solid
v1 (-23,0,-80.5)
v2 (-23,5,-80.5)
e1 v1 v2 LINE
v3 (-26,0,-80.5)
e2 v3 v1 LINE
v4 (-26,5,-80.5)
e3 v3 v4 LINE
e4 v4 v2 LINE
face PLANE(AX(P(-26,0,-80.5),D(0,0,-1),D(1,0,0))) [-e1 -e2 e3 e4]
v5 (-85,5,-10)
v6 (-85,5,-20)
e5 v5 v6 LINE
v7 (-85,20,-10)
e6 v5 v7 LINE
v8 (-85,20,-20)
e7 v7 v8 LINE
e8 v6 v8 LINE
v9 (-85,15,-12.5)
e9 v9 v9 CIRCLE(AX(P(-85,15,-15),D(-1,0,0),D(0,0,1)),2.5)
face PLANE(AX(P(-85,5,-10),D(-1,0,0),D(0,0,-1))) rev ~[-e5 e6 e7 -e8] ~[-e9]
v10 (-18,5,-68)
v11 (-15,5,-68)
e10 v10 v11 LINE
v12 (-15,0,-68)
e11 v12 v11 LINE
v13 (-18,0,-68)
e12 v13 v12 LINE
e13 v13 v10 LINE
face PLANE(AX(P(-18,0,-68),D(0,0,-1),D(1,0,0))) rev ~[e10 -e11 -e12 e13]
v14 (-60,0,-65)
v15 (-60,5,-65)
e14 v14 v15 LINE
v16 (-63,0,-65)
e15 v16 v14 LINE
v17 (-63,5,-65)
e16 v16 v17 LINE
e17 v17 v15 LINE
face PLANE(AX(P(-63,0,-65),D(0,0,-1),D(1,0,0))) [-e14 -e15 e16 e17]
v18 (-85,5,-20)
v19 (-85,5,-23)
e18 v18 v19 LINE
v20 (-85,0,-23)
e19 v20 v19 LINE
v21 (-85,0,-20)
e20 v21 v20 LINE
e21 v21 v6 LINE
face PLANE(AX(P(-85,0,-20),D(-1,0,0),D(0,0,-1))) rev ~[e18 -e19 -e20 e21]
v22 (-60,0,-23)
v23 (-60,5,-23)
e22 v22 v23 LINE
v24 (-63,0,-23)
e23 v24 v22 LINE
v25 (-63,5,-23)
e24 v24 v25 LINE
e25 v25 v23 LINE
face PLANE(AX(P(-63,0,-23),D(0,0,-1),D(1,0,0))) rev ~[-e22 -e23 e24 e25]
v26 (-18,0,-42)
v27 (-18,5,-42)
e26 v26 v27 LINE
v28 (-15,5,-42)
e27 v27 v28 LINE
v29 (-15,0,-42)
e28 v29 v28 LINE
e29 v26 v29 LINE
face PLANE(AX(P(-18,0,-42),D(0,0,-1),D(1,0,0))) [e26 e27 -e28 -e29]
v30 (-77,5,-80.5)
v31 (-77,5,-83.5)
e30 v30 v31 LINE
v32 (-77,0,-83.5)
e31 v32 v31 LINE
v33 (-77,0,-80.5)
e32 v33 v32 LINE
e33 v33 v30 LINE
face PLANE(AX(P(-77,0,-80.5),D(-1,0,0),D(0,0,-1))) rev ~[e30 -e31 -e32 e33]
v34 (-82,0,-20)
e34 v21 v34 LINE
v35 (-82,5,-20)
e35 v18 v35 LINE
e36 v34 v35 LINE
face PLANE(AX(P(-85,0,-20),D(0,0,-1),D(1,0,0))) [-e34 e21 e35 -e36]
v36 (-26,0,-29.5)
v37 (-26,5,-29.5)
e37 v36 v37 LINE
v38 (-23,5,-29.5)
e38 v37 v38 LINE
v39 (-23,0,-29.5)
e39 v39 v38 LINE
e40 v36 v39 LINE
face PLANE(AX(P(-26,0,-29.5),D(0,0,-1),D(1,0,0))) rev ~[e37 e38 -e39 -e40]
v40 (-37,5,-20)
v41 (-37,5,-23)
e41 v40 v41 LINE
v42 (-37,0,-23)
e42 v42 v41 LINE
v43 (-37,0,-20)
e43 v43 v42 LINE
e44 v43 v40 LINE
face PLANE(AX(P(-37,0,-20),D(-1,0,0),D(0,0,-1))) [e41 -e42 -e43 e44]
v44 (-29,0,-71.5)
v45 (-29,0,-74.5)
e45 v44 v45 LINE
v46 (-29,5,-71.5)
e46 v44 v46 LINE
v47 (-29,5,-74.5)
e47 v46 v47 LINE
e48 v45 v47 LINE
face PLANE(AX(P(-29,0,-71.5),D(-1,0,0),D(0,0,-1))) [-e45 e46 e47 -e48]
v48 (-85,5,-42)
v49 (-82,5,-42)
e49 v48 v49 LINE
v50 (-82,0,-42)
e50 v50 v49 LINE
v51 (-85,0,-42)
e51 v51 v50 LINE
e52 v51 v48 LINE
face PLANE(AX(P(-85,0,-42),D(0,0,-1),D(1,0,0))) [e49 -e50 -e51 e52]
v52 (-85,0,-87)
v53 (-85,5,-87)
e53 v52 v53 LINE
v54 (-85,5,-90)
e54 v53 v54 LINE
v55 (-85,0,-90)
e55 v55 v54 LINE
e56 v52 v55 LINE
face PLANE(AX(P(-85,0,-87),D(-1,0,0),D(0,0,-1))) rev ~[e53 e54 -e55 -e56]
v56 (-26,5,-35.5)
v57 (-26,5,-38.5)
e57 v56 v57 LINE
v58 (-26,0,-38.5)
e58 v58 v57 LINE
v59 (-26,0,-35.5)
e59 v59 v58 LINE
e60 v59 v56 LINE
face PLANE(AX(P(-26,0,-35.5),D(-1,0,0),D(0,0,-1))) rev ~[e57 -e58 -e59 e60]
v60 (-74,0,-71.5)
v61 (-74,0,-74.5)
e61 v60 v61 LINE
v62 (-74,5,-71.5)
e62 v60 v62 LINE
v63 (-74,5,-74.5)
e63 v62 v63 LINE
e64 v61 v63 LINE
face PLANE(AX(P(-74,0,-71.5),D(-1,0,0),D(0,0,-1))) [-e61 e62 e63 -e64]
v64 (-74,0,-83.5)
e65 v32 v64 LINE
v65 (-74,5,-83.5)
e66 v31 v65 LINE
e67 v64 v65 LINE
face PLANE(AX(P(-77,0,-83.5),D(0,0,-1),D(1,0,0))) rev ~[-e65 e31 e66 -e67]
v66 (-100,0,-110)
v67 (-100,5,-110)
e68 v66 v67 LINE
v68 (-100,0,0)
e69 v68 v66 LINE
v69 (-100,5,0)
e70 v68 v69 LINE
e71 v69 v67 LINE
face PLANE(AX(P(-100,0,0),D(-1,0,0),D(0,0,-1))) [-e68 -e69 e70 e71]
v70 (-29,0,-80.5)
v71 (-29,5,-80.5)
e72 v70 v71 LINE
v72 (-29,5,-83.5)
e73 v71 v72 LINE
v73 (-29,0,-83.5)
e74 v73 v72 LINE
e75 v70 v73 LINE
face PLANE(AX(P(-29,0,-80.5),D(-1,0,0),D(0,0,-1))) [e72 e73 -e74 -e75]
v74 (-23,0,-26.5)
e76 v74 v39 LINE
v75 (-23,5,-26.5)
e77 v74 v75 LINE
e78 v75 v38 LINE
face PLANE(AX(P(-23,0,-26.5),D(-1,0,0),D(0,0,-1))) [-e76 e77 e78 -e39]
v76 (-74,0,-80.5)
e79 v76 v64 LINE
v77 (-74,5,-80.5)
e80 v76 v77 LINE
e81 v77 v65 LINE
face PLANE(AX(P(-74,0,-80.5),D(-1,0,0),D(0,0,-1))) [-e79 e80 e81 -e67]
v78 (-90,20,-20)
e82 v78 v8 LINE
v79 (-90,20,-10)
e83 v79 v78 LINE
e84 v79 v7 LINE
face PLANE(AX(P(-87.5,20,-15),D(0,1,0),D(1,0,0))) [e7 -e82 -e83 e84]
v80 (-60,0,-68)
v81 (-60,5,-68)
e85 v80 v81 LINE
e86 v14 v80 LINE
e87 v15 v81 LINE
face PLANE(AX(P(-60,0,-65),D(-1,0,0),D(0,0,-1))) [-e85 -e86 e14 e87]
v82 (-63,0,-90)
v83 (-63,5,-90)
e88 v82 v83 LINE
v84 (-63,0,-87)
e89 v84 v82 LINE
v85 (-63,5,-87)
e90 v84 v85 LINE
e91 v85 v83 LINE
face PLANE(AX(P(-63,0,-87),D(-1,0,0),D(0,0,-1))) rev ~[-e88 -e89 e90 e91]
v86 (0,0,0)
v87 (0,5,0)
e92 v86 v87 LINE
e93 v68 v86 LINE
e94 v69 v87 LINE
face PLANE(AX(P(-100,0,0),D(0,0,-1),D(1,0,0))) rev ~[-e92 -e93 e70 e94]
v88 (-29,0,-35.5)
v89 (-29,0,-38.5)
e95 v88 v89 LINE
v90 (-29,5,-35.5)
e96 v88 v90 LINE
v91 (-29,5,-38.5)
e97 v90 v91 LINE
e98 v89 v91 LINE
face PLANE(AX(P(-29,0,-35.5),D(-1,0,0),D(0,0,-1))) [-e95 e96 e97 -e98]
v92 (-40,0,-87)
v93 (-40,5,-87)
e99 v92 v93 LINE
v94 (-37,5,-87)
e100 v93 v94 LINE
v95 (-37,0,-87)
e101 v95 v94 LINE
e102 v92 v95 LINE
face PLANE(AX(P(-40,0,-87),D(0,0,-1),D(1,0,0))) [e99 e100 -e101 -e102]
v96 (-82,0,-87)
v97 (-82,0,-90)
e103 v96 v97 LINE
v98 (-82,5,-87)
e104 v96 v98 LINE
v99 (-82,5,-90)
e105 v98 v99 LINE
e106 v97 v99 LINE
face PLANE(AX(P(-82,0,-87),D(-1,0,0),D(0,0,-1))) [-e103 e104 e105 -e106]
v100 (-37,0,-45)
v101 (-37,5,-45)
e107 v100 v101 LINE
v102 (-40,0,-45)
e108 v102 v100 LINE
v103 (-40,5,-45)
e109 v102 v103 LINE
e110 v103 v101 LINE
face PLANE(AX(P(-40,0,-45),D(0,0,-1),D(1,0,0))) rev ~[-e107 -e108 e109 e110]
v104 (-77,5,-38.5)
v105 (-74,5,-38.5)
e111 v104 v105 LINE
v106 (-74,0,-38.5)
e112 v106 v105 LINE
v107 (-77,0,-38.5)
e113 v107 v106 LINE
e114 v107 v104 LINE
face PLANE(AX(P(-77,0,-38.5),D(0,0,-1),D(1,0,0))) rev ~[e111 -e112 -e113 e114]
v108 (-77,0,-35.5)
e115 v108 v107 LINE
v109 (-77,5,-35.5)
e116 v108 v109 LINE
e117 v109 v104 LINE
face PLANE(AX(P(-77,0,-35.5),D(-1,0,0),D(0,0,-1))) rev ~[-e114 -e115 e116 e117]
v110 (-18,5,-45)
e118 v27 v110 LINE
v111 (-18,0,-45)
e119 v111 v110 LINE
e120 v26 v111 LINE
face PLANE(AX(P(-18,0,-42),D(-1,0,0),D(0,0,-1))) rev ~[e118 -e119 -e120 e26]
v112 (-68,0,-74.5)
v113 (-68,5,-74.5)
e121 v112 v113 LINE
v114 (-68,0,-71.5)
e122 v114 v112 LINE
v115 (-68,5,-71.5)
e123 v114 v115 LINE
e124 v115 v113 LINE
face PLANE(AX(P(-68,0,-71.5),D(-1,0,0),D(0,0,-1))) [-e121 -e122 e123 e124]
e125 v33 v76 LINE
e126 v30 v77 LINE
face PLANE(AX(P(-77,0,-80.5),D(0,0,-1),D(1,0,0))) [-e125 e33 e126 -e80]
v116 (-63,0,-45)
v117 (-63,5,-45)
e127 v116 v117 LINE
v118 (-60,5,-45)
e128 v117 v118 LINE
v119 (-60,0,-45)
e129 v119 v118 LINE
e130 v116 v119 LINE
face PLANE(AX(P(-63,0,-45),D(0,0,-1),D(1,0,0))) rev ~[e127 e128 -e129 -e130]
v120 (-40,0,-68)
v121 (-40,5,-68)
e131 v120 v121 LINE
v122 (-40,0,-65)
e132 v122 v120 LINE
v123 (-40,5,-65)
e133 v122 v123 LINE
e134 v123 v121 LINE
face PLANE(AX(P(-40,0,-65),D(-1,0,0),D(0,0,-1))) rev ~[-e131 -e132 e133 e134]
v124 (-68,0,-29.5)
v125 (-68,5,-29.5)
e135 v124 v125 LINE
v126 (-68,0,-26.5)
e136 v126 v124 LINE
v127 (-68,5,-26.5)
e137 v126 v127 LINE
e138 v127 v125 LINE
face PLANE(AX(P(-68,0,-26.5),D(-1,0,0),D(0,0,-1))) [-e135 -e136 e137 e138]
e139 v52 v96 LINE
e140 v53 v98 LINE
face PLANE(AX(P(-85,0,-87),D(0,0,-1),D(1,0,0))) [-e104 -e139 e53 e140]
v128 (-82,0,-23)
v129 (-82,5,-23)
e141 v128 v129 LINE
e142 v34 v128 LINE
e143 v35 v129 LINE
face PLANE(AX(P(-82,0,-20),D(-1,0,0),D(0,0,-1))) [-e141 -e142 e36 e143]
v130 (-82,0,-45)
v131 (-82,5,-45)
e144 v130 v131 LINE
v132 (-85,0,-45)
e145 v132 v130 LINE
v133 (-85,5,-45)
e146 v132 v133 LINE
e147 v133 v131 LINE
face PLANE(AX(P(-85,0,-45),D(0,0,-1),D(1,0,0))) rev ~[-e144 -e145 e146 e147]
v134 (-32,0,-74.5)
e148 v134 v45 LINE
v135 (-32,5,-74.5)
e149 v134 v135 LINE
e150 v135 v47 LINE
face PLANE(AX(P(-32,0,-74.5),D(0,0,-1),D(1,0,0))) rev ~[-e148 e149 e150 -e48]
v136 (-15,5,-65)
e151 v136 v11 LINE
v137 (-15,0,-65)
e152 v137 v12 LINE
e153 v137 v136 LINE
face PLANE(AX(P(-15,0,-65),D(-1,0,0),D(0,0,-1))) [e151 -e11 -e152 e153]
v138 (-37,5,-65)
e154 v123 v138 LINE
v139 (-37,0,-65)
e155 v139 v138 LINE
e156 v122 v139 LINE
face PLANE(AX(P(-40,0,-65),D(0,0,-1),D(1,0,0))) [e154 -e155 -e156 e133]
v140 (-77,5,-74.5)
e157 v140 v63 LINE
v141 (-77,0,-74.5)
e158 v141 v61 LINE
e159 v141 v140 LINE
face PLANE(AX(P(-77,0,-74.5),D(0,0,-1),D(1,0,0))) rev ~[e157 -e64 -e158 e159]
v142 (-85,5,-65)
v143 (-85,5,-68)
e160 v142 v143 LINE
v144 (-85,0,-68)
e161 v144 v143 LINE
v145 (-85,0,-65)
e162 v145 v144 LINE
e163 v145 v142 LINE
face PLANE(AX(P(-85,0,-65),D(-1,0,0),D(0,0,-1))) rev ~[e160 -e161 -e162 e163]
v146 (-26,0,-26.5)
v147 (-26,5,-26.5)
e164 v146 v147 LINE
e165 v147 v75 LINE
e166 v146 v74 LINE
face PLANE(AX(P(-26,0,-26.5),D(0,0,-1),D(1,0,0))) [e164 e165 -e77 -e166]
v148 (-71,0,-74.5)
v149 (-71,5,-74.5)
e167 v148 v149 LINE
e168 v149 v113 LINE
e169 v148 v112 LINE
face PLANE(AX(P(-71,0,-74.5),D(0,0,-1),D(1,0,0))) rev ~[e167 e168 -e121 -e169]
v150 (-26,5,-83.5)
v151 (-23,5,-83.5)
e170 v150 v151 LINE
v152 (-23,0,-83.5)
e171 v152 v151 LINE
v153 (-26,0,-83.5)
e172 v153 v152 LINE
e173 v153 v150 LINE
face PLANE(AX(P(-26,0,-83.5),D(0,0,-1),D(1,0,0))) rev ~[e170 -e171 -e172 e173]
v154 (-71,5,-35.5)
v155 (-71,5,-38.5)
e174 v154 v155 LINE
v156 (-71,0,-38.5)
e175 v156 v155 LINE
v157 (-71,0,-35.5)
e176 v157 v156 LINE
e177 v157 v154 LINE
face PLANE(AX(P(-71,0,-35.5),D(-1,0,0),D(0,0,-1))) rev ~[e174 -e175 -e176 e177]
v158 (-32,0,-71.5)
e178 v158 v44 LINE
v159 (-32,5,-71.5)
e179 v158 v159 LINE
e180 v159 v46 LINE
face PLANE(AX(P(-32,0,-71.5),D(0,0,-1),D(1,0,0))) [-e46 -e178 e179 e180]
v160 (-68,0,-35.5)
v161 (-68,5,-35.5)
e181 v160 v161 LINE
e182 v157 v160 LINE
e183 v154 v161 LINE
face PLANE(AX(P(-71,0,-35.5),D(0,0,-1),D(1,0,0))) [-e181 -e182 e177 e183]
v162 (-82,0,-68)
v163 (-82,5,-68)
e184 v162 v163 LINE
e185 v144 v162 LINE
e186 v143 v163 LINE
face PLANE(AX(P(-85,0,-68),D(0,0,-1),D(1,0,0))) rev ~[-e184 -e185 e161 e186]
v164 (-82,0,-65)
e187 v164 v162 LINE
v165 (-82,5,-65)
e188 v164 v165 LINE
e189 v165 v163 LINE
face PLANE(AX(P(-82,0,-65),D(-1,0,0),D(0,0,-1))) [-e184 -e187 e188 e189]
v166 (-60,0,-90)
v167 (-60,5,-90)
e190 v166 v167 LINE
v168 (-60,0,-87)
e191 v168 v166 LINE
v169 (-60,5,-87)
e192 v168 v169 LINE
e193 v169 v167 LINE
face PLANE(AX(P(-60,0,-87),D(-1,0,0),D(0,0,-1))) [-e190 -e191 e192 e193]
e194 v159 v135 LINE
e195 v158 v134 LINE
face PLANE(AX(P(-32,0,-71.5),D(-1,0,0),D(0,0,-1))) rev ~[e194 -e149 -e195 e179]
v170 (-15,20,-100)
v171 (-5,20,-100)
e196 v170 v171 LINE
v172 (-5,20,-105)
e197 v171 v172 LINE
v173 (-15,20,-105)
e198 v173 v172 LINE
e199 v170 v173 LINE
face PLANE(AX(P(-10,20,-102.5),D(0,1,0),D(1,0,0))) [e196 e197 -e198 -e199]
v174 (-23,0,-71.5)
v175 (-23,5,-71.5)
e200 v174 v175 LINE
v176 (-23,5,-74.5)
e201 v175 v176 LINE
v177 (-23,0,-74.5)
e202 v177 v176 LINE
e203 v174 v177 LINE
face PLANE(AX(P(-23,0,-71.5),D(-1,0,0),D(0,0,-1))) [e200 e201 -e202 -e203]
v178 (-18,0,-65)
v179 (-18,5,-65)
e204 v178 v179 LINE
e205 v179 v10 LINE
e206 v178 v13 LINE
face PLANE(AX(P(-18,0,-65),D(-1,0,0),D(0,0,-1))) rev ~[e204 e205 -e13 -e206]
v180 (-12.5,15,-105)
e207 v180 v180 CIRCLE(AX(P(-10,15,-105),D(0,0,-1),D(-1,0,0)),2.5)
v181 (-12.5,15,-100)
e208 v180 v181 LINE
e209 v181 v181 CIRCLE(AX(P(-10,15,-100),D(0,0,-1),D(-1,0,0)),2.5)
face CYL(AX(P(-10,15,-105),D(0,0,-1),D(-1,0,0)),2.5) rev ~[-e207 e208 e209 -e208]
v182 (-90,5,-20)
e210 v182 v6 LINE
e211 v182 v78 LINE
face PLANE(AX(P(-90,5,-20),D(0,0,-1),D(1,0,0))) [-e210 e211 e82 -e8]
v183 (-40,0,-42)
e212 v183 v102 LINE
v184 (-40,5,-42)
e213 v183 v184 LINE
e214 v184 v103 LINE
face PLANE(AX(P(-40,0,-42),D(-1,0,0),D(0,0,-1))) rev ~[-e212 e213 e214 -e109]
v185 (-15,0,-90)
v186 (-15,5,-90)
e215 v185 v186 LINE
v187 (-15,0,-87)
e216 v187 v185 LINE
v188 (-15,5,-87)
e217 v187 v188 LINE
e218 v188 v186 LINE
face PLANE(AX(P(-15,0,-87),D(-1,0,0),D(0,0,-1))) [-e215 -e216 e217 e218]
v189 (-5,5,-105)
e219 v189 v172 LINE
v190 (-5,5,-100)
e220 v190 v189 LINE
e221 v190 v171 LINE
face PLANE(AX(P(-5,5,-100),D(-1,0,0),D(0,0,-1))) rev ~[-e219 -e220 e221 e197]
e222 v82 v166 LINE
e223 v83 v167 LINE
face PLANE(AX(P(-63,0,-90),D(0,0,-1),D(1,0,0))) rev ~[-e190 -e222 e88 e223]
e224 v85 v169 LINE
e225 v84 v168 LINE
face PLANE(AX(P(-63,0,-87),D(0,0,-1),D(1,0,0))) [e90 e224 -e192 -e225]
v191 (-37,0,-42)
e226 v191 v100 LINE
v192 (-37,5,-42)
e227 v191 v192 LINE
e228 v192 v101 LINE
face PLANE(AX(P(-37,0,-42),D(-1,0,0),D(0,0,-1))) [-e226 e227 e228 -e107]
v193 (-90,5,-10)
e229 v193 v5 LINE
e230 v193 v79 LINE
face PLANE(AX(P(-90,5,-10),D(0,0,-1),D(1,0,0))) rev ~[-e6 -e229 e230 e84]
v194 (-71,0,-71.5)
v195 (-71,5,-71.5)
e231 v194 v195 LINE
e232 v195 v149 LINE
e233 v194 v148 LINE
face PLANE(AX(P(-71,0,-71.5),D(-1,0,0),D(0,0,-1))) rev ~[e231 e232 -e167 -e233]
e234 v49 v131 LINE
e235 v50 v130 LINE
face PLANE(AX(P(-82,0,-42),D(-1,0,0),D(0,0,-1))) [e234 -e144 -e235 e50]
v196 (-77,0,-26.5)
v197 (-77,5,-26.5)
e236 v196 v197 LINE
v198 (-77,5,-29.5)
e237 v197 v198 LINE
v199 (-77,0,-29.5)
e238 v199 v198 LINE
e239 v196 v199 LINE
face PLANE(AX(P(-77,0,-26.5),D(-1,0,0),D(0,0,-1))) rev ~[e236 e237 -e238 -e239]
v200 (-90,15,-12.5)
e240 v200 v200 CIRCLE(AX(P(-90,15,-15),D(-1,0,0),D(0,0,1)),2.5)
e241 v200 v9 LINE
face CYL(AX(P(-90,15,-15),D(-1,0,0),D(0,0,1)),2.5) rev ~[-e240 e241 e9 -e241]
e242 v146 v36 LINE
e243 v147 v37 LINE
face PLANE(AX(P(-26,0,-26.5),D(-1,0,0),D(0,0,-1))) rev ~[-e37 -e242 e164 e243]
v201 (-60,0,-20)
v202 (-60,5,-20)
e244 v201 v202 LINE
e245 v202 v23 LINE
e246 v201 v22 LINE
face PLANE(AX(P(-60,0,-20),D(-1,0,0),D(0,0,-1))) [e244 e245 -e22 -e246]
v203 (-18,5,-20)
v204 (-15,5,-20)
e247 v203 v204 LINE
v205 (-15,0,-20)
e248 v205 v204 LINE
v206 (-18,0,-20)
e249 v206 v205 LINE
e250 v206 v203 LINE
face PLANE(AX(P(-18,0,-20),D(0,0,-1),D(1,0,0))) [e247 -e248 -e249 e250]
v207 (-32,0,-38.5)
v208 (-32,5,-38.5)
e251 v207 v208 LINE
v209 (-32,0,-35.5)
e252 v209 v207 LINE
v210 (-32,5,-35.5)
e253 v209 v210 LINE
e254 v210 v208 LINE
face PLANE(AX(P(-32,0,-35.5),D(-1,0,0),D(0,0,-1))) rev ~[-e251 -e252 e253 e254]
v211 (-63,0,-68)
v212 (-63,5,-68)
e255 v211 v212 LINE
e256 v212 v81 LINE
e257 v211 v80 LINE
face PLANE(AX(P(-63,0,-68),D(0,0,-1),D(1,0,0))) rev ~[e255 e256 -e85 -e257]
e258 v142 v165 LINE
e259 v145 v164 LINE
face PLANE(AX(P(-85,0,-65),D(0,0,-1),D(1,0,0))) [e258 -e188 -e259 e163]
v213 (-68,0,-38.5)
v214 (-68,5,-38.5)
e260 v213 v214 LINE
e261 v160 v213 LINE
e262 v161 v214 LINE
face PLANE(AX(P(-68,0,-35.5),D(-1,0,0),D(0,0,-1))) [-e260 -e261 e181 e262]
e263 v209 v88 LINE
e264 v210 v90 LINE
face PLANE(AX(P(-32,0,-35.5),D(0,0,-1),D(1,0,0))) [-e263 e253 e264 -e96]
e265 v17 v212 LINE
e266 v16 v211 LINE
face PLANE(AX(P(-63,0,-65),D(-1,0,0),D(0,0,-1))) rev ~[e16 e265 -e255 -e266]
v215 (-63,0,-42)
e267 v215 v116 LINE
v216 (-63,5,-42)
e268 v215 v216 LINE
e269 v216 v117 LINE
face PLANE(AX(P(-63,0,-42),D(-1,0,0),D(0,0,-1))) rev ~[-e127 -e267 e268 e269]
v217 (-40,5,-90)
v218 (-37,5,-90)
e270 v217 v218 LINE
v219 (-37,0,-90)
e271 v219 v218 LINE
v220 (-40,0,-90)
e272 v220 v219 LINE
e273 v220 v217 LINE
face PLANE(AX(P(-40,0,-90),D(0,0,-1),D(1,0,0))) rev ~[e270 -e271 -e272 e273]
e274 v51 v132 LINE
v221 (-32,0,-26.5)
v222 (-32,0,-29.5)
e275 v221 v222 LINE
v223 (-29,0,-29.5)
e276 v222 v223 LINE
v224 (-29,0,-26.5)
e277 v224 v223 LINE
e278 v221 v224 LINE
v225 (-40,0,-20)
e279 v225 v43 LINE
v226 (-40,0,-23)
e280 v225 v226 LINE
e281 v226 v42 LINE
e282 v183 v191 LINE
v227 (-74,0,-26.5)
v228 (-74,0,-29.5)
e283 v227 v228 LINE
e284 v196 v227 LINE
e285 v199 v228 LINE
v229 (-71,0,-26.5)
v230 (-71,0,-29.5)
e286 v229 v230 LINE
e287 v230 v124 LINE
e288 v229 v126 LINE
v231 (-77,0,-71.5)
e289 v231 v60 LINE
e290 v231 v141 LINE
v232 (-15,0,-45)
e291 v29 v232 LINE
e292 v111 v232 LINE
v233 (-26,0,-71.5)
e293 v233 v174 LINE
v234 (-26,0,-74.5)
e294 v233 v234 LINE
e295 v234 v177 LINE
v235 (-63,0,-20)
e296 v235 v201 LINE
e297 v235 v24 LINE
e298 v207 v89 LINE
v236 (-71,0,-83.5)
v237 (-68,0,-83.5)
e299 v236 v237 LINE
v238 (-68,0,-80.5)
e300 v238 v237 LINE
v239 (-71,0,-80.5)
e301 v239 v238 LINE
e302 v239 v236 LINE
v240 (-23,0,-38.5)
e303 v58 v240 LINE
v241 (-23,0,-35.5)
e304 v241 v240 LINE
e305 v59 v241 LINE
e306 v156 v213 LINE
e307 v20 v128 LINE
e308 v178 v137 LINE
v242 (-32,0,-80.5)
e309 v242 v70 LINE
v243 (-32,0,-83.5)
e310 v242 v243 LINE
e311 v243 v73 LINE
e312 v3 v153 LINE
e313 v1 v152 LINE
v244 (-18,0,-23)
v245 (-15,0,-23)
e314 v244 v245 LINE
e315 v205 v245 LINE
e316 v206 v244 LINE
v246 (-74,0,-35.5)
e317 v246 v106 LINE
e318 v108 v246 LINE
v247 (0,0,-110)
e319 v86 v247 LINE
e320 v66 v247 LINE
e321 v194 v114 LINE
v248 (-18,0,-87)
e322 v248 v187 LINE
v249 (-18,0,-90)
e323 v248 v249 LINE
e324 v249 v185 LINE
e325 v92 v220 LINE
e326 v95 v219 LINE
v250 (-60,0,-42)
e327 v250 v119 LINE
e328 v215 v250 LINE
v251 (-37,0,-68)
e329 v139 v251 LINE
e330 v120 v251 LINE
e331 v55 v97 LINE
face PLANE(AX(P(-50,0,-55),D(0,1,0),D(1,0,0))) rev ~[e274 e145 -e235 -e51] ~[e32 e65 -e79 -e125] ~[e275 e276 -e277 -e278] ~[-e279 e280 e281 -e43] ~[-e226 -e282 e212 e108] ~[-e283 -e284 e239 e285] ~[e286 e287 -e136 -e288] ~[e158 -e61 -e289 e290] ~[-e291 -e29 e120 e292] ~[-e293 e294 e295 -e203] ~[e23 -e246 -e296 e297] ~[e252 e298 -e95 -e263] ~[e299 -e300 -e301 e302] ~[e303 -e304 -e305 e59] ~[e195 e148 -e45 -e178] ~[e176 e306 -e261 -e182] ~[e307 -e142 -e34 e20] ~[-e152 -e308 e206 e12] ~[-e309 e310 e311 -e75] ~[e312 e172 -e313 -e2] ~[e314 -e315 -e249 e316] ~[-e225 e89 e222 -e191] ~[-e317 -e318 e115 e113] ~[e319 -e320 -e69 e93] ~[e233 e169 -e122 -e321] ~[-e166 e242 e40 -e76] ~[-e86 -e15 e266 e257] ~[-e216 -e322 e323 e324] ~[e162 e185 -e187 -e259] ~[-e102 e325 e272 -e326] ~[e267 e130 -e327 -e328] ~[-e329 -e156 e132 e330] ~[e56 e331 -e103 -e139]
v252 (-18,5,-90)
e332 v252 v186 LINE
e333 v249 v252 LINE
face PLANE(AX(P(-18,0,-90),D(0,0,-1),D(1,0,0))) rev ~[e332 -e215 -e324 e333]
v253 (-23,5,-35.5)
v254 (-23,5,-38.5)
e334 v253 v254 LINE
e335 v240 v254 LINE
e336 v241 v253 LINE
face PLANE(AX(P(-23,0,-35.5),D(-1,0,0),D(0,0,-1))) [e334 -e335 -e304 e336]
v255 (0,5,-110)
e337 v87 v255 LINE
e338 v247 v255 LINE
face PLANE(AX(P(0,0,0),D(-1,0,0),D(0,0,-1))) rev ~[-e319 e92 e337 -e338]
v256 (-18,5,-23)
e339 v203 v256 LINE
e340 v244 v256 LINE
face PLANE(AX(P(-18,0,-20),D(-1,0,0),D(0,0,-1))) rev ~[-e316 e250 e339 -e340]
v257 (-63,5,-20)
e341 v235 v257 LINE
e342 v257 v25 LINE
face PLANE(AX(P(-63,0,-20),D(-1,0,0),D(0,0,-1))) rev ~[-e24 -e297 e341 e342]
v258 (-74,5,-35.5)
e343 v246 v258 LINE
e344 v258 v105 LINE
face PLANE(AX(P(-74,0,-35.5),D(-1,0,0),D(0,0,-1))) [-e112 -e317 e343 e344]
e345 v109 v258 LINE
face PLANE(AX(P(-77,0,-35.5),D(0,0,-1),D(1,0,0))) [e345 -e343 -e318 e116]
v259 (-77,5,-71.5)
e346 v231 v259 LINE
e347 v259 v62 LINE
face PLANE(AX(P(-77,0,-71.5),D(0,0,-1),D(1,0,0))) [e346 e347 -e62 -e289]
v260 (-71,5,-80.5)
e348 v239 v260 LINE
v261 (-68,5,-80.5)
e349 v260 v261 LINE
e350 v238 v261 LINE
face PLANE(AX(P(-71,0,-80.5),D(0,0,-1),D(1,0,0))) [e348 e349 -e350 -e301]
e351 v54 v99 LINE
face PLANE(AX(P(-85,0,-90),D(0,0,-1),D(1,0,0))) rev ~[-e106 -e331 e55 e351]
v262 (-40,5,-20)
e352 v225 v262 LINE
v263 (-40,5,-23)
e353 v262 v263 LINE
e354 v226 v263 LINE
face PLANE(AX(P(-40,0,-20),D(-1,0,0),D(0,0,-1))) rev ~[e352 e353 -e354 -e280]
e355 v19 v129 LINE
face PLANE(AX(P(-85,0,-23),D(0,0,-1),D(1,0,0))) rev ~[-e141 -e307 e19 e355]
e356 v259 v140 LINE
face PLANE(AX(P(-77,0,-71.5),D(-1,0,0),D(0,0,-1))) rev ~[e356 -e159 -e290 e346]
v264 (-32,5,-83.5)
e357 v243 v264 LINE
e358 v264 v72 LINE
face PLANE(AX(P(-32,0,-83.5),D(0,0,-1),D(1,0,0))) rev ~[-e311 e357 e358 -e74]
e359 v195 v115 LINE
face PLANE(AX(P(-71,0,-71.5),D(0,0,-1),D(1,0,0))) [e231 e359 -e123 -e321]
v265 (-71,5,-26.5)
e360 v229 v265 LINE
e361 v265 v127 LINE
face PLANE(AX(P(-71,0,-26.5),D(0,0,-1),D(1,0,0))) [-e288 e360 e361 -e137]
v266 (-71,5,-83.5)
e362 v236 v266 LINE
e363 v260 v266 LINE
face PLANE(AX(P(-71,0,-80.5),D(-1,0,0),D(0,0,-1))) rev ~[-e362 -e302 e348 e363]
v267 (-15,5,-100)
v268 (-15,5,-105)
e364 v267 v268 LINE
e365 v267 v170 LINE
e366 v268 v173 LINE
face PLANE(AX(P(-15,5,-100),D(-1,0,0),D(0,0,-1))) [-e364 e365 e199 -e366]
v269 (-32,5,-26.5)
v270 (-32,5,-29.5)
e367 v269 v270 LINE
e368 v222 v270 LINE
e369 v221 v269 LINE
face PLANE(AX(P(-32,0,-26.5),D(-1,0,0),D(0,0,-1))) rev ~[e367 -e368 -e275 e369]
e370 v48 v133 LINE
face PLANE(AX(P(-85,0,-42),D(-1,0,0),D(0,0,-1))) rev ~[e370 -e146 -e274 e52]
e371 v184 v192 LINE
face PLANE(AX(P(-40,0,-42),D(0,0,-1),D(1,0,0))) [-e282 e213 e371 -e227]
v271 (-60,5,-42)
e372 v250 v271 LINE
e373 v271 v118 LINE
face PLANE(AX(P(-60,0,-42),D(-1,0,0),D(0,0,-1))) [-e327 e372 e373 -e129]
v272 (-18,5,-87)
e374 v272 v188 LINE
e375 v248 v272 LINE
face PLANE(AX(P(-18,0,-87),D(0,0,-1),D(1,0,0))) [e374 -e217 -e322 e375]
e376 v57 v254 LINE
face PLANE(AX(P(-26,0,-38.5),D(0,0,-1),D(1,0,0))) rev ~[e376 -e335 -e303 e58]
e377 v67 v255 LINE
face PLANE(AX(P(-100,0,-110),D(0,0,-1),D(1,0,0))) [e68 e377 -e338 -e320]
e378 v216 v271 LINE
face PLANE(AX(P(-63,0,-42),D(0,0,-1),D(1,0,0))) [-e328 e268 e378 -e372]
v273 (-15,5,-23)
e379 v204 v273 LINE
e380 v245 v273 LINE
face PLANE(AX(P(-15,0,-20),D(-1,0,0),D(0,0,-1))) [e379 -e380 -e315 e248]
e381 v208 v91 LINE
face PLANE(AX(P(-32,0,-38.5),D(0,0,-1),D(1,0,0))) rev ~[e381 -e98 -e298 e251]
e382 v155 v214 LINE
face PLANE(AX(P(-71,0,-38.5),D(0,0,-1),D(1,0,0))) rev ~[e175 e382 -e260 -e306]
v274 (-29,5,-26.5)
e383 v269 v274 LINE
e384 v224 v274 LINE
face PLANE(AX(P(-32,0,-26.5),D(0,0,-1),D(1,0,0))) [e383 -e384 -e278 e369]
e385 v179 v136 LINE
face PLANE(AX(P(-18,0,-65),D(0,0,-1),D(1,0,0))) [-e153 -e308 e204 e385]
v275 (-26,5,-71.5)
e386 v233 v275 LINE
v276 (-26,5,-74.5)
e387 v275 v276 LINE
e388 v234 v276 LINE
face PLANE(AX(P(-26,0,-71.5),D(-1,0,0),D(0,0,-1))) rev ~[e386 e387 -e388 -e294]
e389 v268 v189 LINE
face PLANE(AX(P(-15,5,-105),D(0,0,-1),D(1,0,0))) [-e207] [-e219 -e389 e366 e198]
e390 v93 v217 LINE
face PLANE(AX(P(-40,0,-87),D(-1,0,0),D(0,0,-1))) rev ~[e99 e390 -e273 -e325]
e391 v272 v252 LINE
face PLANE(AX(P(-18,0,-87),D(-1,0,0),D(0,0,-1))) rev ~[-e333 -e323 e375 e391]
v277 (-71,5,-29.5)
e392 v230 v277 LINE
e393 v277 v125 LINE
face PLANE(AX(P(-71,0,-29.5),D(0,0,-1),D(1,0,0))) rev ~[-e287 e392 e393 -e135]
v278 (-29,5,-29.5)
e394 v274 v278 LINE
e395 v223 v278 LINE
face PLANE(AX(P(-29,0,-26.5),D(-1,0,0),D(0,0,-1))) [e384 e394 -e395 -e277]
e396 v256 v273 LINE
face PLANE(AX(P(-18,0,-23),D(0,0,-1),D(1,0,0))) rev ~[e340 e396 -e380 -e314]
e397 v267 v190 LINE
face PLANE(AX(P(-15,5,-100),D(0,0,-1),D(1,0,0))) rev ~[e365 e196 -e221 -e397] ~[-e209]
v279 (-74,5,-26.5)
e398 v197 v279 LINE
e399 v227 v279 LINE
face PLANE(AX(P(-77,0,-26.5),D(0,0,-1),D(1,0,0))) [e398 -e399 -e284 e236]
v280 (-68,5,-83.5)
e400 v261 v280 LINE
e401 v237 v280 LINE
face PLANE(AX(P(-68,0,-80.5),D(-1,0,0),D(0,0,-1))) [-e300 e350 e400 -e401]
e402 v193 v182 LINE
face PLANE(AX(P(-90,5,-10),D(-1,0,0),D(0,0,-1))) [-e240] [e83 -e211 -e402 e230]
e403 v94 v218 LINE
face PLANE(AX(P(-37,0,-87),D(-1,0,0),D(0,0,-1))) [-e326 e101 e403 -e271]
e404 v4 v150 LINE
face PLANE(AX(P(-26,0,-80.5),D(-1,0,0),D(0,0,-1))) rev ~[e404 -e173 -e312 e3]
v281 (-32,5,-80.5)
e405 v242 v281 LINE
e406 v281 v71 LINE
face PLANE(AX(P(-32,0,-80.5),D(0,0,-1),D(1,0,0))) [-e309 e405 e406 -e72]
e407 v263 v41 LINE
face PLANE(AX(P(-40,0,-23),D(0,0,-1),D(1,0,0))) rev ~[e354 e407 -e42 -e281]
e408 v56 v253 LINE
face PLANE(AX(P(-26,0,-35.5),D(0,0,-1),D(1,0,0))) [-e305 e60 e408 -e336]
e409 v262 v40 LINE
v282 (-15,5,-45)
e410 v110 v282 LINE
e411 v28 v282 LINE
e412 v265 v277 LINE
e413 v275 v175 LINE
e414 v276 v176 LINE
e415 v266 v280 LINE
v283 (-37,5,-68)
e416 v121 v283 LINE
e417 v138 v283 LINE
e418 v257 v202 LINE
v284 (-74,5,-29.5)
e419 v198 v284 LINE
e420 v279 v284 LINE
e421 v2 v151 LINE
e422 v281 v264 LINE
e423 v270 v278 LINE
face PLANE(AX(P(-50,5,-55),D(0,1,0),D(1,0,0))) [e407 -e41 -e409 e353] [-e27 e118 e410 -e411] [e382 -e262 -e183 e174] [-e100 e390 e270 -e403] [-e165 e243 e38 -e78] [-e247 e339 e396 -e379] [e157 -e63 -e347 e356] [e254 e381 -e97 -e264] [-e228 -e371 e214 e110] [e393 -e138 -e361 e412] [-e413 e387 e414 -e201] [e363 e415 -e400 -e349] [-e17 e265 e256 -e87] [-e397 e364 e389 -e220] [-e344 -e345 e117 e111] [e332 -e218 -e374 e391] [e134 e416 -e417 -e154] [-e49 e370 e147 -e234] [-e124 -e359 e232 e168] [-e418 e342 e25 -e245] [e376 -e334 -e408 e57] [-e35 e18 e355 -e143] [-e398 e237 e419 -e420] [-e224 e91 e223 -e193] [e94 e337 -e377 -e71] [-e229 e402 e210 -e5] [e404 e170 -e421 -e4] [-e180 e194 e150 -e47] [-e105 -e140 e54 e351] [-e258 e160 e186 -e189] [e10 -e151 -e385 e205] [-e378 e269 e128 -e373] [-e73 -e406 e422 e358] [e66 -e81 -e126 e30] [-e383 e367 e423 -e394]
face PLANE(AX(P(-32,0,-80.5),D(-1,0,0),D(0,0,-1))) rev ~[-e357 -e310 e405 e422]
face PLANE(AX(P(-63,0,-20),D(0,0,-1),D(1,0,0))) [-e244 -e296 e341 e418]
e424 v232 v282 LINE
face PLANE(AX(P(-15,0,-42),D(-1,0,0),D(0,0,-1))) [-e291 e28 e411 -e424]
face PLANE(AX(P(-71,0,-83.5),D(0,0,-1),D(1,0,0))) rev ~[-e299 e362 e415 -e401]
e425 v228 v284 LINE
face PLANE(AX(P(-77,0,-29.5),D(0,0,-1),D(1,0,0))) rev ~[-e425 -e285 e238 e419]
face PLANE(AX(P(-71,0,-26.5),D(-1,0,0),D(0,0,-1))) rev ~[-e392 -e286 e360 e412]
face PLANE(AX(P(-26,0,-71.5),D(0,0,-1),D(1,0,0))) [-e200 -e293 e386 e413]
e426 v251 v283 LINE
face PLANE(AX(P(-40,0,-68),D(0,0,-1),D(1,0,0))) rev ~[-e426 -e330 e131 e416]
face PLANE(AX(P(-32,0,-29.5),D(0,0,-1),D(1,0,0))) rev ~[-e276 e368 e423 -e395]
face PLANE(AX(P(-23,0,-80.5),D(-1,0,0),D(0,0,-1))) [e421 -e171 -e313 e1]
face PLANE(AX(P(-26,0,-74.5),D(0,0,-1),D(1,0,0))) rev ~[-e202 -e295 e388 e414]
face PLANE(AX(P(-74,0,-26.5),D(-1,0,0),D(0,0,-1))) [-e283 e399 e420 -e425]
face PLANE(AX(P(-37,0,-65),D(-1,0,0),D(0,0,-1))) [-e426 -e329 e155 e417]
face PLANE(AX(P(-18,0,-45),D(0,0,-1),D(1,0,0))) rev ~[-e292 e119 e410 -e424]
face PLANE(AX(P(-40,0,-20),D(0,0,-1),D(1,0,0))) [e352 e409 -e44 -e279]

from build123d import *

# Parameters (mm, degrees)
SKETCH1_W           = 100
SKETCH1_H           = 110
SKETCH1_W_2         = 3
SKETCH1_H_2         = 3
BOSS_EXTRUDE1_DEPTH = 5
SKETCH2_W           = 10
SKETCH2_H           = 5
SKETCH2_W_2         = 5
SKETCH2_H_2         = 10
BOSS_EXTRUDE2_DEPTH = 15
SKETCH3_R           = 2.5
CUT_EXTRUDE1_DEPTH  = 15
SKETCH5_R           = 2.5
CUT_EXTRUDE2_DEPTH  = 15


with BuildPart() as part:
    # Sketch1 → Boss-Extrude1 (new body)
    with BuildSketch(Plane(origin=(0, 0, 0), x_dir=(1, 0, 0), z_dir=(0, 1, 0))):
        with Locations((-50, 55)):
            Rectangle(SKETCH1_W, SKETCH1_H)
        with Locations((-38.5, 43.5)):
            Rectangle(SKETCH1_W_2, SKETCH1_H_2, mode=Mode.SUBTRACT)
        with Locations((-16.5, 43.5)):
            Rectangle(SKETCH1_W_2, SKETCH1_H_2, mode=Mode.SUBTRACT)
        with Locations((-38.5, 21.5)):
            Rectangle(SKETCH1_W_2, SKETCH1_H_2, mode=Mode.SUBTRACT)
        with Locations((-16.5, 21.5)):
            Rectangle(SKETCH1_W_2, SKETCH1_H_2, mode=Mode.SUBTRACT)
        with Locations((-30.5, 37)):
            Rectangle(SKETCH1_W_2, SKETCH1_H_2, mode=Mode.SUBTRACT)
        with Locations((-30.5, 28)):
            Rectangle(SKETCH1_W_2, SKETCH1_H_2, mode=Mode.SUBTRACT)
        with Locations((-24.5, 37)):
            Rectangle(SKETCH1_W_2, SKETCH1_H_2, mode=Mode.SUBTRACT)
        with Locations((-24.5, 28)):
            Rectangle(SKETCH1_W_2, SKETCH1_H_2, mode=Mode.SUBTRACT)
        with Locations((-75.5, 28)):
            Rectangle(SKETCH1_W_2, SKETCH1_H_2, mode=Mode.SUBTRACT)
        with Locations((-75.5, 37)):
            Rectangle(SKETCH1_W_2, SKETCH1_H_2, mode=Mode.SUBTRACT)
        with Locations((-69.5, 28)):
            Rectangle(SKETCH1_W_2, SKETCH1_H_2, mode=Mode.SUBTRACT)
        with Locations((-69.5, 37)):
            Rectangle(SKETCH1_W_2, SKETCH1_H_2, mode=Mode.SUBTRACT)
        with Locations((-83.5, 21.5)):
            Rectangle(SKETCH1_W_2, SKETCH1_H_2, mode=Mode.SUBTRACT)
        with Locations((-61.5, 21.5)):
            Rectangle(SKETCH1_W_2, SKETCH1_H_2, mode=Mode.SUBTRACT)
        with Locations((-83.5, 43.5)):
            Rectangle(SKETCH1_W_2, SKETCH1_H_2, mode=Mode.SUBTRACT)
        with Locations((-61.5, 43.5)):
            Rectangle(SKETCH1_W_2, SKETCH1_H_2, mode=Mode.SUBTRACT)
        with Locations((-61.5, 66.5)):
            Rectangle(SKETCH1_W_2, SKETCH1_H_2, mode=Mode.SUBTRACT)
        with Locations((-83.5, 66.5)):
            Rectangle(SKETCH1_W_2, SKETCH1_H_2, mode=Mode.SUBTRACT)
        with Locations((-61.5, 88.5)):
            Rectangle(SKETCH1_W_2, SKETCH1_H_2, mode=Mode.SUBTRACT)
        with Locations((-83.5, 88.5)):
            Rectangle(SKETCH1_W_2, SKETCH1_H_2, mode=Mode.SUBTRACT)
        with Locations((-69.5, 73)):
            Rectangle(SKETCH1_W_2, SKETCH1_H_2, mode=Mode.SUBTRACT)
        with Locations((-69.5, 82)):
            Rectangle(SKETCH1_W_2, SKETCH1_H_2, mode=Mode.SUBTRACT)
        with Locations((-75.5, 73)):
            Rectangle(SKETCH1_W_2, SKETCH1_H_2, mode=Mode.SUBTRACT)
        with Locations((-75.5, 82)):
            Rectangle(SKETCH1_W_2, SKETCH1_H_2, mode=Mode.SUBTRACT)
        with Locations((-24.5, 82)):
            Rectangle(SKETCH1_W_2, SKETCH1_H_2, mode=Mode.SUBTRACT)
        with Locations((-24.5, 73)):
            Rectangle(SKETCH1_W_2, SKETCH1_H_2, mode=Mode.SUBTRACT)
        with Locations((-30.5, 82)):
            Rectangle(SKETCH1_W_2, SKETCH1_H_2, mode=Mode.SUBTRACT)
        with Locations((-30.5, 73)):
            Rectangle(SKETCH1_W_2, SKETCH1_H_2, mode=Mode.SUBTRACT)
        with Locations((-16.5, 88.5)):
            Rectangle(SKETCH1_W_2, SKETCH1_H_2, mode=Mode.SUBTRACT)
        with Locations((-38.5, 88.5)):
            Rectangle(SKETCH1_W_2, SKETCH1_H_2, mode=Mode.SUBTRACT)
        with Locations((-16.5, 66.5)):
            Rectangle(SKETCH1_W_2, SKETCH1_H_2, mode=Mode.SUBTRACT)
        with Locations((-38.5, 66.5)):
            Rectangle(SKETCH1_W_2, SKETCH1_H_2, mode=Mode.SUBTRACT)
    extrude(amount=BOSS_EXTRUDE1_DEPTH)

    # Sketch2 → Boss-Extrude2 (add)
    with BuildSketch(Plane(origin=(0, 5, 0), x_dir=(1, 0, 0), z_dir=(0, 1, 0))):
        with Locations((-10, 102.5)):
            Rectangle(SKETCH2_W, SKETCH2_H)
        with Locations((-87.5, 15)):
            Rectangle(SKETCH2_W_2, SKETCH2_H_2)
    extrude(amount=BOSS_EXTRUDE2_DEPTH)

    # Sketch3 → Cut-Extrude1 (cut)
    with BuildSketch(Plane(origin=(0, 0, -105), x_dir=(-1, 0, 0), z_dir=(0, 0, -1))):
        with Locations((10, 15)):
            Circle(SKETCH3_R)
    extrude(amount=-CUT_EXTRUDE1_DEPTH, mode=Mode.SUBTRACT)

    # Sketch5 → Cut-Extrude2 (cut)
    with BuildSketch(Plane.ZY.offset(90)):
        with Locations((-15, 15)):
            Circle(SKETCH5_R)
    extrude(amount=-CUT_EXTRUDE2_DEPTH, mode=Mode.SUBTRACT)


solid = part.part
